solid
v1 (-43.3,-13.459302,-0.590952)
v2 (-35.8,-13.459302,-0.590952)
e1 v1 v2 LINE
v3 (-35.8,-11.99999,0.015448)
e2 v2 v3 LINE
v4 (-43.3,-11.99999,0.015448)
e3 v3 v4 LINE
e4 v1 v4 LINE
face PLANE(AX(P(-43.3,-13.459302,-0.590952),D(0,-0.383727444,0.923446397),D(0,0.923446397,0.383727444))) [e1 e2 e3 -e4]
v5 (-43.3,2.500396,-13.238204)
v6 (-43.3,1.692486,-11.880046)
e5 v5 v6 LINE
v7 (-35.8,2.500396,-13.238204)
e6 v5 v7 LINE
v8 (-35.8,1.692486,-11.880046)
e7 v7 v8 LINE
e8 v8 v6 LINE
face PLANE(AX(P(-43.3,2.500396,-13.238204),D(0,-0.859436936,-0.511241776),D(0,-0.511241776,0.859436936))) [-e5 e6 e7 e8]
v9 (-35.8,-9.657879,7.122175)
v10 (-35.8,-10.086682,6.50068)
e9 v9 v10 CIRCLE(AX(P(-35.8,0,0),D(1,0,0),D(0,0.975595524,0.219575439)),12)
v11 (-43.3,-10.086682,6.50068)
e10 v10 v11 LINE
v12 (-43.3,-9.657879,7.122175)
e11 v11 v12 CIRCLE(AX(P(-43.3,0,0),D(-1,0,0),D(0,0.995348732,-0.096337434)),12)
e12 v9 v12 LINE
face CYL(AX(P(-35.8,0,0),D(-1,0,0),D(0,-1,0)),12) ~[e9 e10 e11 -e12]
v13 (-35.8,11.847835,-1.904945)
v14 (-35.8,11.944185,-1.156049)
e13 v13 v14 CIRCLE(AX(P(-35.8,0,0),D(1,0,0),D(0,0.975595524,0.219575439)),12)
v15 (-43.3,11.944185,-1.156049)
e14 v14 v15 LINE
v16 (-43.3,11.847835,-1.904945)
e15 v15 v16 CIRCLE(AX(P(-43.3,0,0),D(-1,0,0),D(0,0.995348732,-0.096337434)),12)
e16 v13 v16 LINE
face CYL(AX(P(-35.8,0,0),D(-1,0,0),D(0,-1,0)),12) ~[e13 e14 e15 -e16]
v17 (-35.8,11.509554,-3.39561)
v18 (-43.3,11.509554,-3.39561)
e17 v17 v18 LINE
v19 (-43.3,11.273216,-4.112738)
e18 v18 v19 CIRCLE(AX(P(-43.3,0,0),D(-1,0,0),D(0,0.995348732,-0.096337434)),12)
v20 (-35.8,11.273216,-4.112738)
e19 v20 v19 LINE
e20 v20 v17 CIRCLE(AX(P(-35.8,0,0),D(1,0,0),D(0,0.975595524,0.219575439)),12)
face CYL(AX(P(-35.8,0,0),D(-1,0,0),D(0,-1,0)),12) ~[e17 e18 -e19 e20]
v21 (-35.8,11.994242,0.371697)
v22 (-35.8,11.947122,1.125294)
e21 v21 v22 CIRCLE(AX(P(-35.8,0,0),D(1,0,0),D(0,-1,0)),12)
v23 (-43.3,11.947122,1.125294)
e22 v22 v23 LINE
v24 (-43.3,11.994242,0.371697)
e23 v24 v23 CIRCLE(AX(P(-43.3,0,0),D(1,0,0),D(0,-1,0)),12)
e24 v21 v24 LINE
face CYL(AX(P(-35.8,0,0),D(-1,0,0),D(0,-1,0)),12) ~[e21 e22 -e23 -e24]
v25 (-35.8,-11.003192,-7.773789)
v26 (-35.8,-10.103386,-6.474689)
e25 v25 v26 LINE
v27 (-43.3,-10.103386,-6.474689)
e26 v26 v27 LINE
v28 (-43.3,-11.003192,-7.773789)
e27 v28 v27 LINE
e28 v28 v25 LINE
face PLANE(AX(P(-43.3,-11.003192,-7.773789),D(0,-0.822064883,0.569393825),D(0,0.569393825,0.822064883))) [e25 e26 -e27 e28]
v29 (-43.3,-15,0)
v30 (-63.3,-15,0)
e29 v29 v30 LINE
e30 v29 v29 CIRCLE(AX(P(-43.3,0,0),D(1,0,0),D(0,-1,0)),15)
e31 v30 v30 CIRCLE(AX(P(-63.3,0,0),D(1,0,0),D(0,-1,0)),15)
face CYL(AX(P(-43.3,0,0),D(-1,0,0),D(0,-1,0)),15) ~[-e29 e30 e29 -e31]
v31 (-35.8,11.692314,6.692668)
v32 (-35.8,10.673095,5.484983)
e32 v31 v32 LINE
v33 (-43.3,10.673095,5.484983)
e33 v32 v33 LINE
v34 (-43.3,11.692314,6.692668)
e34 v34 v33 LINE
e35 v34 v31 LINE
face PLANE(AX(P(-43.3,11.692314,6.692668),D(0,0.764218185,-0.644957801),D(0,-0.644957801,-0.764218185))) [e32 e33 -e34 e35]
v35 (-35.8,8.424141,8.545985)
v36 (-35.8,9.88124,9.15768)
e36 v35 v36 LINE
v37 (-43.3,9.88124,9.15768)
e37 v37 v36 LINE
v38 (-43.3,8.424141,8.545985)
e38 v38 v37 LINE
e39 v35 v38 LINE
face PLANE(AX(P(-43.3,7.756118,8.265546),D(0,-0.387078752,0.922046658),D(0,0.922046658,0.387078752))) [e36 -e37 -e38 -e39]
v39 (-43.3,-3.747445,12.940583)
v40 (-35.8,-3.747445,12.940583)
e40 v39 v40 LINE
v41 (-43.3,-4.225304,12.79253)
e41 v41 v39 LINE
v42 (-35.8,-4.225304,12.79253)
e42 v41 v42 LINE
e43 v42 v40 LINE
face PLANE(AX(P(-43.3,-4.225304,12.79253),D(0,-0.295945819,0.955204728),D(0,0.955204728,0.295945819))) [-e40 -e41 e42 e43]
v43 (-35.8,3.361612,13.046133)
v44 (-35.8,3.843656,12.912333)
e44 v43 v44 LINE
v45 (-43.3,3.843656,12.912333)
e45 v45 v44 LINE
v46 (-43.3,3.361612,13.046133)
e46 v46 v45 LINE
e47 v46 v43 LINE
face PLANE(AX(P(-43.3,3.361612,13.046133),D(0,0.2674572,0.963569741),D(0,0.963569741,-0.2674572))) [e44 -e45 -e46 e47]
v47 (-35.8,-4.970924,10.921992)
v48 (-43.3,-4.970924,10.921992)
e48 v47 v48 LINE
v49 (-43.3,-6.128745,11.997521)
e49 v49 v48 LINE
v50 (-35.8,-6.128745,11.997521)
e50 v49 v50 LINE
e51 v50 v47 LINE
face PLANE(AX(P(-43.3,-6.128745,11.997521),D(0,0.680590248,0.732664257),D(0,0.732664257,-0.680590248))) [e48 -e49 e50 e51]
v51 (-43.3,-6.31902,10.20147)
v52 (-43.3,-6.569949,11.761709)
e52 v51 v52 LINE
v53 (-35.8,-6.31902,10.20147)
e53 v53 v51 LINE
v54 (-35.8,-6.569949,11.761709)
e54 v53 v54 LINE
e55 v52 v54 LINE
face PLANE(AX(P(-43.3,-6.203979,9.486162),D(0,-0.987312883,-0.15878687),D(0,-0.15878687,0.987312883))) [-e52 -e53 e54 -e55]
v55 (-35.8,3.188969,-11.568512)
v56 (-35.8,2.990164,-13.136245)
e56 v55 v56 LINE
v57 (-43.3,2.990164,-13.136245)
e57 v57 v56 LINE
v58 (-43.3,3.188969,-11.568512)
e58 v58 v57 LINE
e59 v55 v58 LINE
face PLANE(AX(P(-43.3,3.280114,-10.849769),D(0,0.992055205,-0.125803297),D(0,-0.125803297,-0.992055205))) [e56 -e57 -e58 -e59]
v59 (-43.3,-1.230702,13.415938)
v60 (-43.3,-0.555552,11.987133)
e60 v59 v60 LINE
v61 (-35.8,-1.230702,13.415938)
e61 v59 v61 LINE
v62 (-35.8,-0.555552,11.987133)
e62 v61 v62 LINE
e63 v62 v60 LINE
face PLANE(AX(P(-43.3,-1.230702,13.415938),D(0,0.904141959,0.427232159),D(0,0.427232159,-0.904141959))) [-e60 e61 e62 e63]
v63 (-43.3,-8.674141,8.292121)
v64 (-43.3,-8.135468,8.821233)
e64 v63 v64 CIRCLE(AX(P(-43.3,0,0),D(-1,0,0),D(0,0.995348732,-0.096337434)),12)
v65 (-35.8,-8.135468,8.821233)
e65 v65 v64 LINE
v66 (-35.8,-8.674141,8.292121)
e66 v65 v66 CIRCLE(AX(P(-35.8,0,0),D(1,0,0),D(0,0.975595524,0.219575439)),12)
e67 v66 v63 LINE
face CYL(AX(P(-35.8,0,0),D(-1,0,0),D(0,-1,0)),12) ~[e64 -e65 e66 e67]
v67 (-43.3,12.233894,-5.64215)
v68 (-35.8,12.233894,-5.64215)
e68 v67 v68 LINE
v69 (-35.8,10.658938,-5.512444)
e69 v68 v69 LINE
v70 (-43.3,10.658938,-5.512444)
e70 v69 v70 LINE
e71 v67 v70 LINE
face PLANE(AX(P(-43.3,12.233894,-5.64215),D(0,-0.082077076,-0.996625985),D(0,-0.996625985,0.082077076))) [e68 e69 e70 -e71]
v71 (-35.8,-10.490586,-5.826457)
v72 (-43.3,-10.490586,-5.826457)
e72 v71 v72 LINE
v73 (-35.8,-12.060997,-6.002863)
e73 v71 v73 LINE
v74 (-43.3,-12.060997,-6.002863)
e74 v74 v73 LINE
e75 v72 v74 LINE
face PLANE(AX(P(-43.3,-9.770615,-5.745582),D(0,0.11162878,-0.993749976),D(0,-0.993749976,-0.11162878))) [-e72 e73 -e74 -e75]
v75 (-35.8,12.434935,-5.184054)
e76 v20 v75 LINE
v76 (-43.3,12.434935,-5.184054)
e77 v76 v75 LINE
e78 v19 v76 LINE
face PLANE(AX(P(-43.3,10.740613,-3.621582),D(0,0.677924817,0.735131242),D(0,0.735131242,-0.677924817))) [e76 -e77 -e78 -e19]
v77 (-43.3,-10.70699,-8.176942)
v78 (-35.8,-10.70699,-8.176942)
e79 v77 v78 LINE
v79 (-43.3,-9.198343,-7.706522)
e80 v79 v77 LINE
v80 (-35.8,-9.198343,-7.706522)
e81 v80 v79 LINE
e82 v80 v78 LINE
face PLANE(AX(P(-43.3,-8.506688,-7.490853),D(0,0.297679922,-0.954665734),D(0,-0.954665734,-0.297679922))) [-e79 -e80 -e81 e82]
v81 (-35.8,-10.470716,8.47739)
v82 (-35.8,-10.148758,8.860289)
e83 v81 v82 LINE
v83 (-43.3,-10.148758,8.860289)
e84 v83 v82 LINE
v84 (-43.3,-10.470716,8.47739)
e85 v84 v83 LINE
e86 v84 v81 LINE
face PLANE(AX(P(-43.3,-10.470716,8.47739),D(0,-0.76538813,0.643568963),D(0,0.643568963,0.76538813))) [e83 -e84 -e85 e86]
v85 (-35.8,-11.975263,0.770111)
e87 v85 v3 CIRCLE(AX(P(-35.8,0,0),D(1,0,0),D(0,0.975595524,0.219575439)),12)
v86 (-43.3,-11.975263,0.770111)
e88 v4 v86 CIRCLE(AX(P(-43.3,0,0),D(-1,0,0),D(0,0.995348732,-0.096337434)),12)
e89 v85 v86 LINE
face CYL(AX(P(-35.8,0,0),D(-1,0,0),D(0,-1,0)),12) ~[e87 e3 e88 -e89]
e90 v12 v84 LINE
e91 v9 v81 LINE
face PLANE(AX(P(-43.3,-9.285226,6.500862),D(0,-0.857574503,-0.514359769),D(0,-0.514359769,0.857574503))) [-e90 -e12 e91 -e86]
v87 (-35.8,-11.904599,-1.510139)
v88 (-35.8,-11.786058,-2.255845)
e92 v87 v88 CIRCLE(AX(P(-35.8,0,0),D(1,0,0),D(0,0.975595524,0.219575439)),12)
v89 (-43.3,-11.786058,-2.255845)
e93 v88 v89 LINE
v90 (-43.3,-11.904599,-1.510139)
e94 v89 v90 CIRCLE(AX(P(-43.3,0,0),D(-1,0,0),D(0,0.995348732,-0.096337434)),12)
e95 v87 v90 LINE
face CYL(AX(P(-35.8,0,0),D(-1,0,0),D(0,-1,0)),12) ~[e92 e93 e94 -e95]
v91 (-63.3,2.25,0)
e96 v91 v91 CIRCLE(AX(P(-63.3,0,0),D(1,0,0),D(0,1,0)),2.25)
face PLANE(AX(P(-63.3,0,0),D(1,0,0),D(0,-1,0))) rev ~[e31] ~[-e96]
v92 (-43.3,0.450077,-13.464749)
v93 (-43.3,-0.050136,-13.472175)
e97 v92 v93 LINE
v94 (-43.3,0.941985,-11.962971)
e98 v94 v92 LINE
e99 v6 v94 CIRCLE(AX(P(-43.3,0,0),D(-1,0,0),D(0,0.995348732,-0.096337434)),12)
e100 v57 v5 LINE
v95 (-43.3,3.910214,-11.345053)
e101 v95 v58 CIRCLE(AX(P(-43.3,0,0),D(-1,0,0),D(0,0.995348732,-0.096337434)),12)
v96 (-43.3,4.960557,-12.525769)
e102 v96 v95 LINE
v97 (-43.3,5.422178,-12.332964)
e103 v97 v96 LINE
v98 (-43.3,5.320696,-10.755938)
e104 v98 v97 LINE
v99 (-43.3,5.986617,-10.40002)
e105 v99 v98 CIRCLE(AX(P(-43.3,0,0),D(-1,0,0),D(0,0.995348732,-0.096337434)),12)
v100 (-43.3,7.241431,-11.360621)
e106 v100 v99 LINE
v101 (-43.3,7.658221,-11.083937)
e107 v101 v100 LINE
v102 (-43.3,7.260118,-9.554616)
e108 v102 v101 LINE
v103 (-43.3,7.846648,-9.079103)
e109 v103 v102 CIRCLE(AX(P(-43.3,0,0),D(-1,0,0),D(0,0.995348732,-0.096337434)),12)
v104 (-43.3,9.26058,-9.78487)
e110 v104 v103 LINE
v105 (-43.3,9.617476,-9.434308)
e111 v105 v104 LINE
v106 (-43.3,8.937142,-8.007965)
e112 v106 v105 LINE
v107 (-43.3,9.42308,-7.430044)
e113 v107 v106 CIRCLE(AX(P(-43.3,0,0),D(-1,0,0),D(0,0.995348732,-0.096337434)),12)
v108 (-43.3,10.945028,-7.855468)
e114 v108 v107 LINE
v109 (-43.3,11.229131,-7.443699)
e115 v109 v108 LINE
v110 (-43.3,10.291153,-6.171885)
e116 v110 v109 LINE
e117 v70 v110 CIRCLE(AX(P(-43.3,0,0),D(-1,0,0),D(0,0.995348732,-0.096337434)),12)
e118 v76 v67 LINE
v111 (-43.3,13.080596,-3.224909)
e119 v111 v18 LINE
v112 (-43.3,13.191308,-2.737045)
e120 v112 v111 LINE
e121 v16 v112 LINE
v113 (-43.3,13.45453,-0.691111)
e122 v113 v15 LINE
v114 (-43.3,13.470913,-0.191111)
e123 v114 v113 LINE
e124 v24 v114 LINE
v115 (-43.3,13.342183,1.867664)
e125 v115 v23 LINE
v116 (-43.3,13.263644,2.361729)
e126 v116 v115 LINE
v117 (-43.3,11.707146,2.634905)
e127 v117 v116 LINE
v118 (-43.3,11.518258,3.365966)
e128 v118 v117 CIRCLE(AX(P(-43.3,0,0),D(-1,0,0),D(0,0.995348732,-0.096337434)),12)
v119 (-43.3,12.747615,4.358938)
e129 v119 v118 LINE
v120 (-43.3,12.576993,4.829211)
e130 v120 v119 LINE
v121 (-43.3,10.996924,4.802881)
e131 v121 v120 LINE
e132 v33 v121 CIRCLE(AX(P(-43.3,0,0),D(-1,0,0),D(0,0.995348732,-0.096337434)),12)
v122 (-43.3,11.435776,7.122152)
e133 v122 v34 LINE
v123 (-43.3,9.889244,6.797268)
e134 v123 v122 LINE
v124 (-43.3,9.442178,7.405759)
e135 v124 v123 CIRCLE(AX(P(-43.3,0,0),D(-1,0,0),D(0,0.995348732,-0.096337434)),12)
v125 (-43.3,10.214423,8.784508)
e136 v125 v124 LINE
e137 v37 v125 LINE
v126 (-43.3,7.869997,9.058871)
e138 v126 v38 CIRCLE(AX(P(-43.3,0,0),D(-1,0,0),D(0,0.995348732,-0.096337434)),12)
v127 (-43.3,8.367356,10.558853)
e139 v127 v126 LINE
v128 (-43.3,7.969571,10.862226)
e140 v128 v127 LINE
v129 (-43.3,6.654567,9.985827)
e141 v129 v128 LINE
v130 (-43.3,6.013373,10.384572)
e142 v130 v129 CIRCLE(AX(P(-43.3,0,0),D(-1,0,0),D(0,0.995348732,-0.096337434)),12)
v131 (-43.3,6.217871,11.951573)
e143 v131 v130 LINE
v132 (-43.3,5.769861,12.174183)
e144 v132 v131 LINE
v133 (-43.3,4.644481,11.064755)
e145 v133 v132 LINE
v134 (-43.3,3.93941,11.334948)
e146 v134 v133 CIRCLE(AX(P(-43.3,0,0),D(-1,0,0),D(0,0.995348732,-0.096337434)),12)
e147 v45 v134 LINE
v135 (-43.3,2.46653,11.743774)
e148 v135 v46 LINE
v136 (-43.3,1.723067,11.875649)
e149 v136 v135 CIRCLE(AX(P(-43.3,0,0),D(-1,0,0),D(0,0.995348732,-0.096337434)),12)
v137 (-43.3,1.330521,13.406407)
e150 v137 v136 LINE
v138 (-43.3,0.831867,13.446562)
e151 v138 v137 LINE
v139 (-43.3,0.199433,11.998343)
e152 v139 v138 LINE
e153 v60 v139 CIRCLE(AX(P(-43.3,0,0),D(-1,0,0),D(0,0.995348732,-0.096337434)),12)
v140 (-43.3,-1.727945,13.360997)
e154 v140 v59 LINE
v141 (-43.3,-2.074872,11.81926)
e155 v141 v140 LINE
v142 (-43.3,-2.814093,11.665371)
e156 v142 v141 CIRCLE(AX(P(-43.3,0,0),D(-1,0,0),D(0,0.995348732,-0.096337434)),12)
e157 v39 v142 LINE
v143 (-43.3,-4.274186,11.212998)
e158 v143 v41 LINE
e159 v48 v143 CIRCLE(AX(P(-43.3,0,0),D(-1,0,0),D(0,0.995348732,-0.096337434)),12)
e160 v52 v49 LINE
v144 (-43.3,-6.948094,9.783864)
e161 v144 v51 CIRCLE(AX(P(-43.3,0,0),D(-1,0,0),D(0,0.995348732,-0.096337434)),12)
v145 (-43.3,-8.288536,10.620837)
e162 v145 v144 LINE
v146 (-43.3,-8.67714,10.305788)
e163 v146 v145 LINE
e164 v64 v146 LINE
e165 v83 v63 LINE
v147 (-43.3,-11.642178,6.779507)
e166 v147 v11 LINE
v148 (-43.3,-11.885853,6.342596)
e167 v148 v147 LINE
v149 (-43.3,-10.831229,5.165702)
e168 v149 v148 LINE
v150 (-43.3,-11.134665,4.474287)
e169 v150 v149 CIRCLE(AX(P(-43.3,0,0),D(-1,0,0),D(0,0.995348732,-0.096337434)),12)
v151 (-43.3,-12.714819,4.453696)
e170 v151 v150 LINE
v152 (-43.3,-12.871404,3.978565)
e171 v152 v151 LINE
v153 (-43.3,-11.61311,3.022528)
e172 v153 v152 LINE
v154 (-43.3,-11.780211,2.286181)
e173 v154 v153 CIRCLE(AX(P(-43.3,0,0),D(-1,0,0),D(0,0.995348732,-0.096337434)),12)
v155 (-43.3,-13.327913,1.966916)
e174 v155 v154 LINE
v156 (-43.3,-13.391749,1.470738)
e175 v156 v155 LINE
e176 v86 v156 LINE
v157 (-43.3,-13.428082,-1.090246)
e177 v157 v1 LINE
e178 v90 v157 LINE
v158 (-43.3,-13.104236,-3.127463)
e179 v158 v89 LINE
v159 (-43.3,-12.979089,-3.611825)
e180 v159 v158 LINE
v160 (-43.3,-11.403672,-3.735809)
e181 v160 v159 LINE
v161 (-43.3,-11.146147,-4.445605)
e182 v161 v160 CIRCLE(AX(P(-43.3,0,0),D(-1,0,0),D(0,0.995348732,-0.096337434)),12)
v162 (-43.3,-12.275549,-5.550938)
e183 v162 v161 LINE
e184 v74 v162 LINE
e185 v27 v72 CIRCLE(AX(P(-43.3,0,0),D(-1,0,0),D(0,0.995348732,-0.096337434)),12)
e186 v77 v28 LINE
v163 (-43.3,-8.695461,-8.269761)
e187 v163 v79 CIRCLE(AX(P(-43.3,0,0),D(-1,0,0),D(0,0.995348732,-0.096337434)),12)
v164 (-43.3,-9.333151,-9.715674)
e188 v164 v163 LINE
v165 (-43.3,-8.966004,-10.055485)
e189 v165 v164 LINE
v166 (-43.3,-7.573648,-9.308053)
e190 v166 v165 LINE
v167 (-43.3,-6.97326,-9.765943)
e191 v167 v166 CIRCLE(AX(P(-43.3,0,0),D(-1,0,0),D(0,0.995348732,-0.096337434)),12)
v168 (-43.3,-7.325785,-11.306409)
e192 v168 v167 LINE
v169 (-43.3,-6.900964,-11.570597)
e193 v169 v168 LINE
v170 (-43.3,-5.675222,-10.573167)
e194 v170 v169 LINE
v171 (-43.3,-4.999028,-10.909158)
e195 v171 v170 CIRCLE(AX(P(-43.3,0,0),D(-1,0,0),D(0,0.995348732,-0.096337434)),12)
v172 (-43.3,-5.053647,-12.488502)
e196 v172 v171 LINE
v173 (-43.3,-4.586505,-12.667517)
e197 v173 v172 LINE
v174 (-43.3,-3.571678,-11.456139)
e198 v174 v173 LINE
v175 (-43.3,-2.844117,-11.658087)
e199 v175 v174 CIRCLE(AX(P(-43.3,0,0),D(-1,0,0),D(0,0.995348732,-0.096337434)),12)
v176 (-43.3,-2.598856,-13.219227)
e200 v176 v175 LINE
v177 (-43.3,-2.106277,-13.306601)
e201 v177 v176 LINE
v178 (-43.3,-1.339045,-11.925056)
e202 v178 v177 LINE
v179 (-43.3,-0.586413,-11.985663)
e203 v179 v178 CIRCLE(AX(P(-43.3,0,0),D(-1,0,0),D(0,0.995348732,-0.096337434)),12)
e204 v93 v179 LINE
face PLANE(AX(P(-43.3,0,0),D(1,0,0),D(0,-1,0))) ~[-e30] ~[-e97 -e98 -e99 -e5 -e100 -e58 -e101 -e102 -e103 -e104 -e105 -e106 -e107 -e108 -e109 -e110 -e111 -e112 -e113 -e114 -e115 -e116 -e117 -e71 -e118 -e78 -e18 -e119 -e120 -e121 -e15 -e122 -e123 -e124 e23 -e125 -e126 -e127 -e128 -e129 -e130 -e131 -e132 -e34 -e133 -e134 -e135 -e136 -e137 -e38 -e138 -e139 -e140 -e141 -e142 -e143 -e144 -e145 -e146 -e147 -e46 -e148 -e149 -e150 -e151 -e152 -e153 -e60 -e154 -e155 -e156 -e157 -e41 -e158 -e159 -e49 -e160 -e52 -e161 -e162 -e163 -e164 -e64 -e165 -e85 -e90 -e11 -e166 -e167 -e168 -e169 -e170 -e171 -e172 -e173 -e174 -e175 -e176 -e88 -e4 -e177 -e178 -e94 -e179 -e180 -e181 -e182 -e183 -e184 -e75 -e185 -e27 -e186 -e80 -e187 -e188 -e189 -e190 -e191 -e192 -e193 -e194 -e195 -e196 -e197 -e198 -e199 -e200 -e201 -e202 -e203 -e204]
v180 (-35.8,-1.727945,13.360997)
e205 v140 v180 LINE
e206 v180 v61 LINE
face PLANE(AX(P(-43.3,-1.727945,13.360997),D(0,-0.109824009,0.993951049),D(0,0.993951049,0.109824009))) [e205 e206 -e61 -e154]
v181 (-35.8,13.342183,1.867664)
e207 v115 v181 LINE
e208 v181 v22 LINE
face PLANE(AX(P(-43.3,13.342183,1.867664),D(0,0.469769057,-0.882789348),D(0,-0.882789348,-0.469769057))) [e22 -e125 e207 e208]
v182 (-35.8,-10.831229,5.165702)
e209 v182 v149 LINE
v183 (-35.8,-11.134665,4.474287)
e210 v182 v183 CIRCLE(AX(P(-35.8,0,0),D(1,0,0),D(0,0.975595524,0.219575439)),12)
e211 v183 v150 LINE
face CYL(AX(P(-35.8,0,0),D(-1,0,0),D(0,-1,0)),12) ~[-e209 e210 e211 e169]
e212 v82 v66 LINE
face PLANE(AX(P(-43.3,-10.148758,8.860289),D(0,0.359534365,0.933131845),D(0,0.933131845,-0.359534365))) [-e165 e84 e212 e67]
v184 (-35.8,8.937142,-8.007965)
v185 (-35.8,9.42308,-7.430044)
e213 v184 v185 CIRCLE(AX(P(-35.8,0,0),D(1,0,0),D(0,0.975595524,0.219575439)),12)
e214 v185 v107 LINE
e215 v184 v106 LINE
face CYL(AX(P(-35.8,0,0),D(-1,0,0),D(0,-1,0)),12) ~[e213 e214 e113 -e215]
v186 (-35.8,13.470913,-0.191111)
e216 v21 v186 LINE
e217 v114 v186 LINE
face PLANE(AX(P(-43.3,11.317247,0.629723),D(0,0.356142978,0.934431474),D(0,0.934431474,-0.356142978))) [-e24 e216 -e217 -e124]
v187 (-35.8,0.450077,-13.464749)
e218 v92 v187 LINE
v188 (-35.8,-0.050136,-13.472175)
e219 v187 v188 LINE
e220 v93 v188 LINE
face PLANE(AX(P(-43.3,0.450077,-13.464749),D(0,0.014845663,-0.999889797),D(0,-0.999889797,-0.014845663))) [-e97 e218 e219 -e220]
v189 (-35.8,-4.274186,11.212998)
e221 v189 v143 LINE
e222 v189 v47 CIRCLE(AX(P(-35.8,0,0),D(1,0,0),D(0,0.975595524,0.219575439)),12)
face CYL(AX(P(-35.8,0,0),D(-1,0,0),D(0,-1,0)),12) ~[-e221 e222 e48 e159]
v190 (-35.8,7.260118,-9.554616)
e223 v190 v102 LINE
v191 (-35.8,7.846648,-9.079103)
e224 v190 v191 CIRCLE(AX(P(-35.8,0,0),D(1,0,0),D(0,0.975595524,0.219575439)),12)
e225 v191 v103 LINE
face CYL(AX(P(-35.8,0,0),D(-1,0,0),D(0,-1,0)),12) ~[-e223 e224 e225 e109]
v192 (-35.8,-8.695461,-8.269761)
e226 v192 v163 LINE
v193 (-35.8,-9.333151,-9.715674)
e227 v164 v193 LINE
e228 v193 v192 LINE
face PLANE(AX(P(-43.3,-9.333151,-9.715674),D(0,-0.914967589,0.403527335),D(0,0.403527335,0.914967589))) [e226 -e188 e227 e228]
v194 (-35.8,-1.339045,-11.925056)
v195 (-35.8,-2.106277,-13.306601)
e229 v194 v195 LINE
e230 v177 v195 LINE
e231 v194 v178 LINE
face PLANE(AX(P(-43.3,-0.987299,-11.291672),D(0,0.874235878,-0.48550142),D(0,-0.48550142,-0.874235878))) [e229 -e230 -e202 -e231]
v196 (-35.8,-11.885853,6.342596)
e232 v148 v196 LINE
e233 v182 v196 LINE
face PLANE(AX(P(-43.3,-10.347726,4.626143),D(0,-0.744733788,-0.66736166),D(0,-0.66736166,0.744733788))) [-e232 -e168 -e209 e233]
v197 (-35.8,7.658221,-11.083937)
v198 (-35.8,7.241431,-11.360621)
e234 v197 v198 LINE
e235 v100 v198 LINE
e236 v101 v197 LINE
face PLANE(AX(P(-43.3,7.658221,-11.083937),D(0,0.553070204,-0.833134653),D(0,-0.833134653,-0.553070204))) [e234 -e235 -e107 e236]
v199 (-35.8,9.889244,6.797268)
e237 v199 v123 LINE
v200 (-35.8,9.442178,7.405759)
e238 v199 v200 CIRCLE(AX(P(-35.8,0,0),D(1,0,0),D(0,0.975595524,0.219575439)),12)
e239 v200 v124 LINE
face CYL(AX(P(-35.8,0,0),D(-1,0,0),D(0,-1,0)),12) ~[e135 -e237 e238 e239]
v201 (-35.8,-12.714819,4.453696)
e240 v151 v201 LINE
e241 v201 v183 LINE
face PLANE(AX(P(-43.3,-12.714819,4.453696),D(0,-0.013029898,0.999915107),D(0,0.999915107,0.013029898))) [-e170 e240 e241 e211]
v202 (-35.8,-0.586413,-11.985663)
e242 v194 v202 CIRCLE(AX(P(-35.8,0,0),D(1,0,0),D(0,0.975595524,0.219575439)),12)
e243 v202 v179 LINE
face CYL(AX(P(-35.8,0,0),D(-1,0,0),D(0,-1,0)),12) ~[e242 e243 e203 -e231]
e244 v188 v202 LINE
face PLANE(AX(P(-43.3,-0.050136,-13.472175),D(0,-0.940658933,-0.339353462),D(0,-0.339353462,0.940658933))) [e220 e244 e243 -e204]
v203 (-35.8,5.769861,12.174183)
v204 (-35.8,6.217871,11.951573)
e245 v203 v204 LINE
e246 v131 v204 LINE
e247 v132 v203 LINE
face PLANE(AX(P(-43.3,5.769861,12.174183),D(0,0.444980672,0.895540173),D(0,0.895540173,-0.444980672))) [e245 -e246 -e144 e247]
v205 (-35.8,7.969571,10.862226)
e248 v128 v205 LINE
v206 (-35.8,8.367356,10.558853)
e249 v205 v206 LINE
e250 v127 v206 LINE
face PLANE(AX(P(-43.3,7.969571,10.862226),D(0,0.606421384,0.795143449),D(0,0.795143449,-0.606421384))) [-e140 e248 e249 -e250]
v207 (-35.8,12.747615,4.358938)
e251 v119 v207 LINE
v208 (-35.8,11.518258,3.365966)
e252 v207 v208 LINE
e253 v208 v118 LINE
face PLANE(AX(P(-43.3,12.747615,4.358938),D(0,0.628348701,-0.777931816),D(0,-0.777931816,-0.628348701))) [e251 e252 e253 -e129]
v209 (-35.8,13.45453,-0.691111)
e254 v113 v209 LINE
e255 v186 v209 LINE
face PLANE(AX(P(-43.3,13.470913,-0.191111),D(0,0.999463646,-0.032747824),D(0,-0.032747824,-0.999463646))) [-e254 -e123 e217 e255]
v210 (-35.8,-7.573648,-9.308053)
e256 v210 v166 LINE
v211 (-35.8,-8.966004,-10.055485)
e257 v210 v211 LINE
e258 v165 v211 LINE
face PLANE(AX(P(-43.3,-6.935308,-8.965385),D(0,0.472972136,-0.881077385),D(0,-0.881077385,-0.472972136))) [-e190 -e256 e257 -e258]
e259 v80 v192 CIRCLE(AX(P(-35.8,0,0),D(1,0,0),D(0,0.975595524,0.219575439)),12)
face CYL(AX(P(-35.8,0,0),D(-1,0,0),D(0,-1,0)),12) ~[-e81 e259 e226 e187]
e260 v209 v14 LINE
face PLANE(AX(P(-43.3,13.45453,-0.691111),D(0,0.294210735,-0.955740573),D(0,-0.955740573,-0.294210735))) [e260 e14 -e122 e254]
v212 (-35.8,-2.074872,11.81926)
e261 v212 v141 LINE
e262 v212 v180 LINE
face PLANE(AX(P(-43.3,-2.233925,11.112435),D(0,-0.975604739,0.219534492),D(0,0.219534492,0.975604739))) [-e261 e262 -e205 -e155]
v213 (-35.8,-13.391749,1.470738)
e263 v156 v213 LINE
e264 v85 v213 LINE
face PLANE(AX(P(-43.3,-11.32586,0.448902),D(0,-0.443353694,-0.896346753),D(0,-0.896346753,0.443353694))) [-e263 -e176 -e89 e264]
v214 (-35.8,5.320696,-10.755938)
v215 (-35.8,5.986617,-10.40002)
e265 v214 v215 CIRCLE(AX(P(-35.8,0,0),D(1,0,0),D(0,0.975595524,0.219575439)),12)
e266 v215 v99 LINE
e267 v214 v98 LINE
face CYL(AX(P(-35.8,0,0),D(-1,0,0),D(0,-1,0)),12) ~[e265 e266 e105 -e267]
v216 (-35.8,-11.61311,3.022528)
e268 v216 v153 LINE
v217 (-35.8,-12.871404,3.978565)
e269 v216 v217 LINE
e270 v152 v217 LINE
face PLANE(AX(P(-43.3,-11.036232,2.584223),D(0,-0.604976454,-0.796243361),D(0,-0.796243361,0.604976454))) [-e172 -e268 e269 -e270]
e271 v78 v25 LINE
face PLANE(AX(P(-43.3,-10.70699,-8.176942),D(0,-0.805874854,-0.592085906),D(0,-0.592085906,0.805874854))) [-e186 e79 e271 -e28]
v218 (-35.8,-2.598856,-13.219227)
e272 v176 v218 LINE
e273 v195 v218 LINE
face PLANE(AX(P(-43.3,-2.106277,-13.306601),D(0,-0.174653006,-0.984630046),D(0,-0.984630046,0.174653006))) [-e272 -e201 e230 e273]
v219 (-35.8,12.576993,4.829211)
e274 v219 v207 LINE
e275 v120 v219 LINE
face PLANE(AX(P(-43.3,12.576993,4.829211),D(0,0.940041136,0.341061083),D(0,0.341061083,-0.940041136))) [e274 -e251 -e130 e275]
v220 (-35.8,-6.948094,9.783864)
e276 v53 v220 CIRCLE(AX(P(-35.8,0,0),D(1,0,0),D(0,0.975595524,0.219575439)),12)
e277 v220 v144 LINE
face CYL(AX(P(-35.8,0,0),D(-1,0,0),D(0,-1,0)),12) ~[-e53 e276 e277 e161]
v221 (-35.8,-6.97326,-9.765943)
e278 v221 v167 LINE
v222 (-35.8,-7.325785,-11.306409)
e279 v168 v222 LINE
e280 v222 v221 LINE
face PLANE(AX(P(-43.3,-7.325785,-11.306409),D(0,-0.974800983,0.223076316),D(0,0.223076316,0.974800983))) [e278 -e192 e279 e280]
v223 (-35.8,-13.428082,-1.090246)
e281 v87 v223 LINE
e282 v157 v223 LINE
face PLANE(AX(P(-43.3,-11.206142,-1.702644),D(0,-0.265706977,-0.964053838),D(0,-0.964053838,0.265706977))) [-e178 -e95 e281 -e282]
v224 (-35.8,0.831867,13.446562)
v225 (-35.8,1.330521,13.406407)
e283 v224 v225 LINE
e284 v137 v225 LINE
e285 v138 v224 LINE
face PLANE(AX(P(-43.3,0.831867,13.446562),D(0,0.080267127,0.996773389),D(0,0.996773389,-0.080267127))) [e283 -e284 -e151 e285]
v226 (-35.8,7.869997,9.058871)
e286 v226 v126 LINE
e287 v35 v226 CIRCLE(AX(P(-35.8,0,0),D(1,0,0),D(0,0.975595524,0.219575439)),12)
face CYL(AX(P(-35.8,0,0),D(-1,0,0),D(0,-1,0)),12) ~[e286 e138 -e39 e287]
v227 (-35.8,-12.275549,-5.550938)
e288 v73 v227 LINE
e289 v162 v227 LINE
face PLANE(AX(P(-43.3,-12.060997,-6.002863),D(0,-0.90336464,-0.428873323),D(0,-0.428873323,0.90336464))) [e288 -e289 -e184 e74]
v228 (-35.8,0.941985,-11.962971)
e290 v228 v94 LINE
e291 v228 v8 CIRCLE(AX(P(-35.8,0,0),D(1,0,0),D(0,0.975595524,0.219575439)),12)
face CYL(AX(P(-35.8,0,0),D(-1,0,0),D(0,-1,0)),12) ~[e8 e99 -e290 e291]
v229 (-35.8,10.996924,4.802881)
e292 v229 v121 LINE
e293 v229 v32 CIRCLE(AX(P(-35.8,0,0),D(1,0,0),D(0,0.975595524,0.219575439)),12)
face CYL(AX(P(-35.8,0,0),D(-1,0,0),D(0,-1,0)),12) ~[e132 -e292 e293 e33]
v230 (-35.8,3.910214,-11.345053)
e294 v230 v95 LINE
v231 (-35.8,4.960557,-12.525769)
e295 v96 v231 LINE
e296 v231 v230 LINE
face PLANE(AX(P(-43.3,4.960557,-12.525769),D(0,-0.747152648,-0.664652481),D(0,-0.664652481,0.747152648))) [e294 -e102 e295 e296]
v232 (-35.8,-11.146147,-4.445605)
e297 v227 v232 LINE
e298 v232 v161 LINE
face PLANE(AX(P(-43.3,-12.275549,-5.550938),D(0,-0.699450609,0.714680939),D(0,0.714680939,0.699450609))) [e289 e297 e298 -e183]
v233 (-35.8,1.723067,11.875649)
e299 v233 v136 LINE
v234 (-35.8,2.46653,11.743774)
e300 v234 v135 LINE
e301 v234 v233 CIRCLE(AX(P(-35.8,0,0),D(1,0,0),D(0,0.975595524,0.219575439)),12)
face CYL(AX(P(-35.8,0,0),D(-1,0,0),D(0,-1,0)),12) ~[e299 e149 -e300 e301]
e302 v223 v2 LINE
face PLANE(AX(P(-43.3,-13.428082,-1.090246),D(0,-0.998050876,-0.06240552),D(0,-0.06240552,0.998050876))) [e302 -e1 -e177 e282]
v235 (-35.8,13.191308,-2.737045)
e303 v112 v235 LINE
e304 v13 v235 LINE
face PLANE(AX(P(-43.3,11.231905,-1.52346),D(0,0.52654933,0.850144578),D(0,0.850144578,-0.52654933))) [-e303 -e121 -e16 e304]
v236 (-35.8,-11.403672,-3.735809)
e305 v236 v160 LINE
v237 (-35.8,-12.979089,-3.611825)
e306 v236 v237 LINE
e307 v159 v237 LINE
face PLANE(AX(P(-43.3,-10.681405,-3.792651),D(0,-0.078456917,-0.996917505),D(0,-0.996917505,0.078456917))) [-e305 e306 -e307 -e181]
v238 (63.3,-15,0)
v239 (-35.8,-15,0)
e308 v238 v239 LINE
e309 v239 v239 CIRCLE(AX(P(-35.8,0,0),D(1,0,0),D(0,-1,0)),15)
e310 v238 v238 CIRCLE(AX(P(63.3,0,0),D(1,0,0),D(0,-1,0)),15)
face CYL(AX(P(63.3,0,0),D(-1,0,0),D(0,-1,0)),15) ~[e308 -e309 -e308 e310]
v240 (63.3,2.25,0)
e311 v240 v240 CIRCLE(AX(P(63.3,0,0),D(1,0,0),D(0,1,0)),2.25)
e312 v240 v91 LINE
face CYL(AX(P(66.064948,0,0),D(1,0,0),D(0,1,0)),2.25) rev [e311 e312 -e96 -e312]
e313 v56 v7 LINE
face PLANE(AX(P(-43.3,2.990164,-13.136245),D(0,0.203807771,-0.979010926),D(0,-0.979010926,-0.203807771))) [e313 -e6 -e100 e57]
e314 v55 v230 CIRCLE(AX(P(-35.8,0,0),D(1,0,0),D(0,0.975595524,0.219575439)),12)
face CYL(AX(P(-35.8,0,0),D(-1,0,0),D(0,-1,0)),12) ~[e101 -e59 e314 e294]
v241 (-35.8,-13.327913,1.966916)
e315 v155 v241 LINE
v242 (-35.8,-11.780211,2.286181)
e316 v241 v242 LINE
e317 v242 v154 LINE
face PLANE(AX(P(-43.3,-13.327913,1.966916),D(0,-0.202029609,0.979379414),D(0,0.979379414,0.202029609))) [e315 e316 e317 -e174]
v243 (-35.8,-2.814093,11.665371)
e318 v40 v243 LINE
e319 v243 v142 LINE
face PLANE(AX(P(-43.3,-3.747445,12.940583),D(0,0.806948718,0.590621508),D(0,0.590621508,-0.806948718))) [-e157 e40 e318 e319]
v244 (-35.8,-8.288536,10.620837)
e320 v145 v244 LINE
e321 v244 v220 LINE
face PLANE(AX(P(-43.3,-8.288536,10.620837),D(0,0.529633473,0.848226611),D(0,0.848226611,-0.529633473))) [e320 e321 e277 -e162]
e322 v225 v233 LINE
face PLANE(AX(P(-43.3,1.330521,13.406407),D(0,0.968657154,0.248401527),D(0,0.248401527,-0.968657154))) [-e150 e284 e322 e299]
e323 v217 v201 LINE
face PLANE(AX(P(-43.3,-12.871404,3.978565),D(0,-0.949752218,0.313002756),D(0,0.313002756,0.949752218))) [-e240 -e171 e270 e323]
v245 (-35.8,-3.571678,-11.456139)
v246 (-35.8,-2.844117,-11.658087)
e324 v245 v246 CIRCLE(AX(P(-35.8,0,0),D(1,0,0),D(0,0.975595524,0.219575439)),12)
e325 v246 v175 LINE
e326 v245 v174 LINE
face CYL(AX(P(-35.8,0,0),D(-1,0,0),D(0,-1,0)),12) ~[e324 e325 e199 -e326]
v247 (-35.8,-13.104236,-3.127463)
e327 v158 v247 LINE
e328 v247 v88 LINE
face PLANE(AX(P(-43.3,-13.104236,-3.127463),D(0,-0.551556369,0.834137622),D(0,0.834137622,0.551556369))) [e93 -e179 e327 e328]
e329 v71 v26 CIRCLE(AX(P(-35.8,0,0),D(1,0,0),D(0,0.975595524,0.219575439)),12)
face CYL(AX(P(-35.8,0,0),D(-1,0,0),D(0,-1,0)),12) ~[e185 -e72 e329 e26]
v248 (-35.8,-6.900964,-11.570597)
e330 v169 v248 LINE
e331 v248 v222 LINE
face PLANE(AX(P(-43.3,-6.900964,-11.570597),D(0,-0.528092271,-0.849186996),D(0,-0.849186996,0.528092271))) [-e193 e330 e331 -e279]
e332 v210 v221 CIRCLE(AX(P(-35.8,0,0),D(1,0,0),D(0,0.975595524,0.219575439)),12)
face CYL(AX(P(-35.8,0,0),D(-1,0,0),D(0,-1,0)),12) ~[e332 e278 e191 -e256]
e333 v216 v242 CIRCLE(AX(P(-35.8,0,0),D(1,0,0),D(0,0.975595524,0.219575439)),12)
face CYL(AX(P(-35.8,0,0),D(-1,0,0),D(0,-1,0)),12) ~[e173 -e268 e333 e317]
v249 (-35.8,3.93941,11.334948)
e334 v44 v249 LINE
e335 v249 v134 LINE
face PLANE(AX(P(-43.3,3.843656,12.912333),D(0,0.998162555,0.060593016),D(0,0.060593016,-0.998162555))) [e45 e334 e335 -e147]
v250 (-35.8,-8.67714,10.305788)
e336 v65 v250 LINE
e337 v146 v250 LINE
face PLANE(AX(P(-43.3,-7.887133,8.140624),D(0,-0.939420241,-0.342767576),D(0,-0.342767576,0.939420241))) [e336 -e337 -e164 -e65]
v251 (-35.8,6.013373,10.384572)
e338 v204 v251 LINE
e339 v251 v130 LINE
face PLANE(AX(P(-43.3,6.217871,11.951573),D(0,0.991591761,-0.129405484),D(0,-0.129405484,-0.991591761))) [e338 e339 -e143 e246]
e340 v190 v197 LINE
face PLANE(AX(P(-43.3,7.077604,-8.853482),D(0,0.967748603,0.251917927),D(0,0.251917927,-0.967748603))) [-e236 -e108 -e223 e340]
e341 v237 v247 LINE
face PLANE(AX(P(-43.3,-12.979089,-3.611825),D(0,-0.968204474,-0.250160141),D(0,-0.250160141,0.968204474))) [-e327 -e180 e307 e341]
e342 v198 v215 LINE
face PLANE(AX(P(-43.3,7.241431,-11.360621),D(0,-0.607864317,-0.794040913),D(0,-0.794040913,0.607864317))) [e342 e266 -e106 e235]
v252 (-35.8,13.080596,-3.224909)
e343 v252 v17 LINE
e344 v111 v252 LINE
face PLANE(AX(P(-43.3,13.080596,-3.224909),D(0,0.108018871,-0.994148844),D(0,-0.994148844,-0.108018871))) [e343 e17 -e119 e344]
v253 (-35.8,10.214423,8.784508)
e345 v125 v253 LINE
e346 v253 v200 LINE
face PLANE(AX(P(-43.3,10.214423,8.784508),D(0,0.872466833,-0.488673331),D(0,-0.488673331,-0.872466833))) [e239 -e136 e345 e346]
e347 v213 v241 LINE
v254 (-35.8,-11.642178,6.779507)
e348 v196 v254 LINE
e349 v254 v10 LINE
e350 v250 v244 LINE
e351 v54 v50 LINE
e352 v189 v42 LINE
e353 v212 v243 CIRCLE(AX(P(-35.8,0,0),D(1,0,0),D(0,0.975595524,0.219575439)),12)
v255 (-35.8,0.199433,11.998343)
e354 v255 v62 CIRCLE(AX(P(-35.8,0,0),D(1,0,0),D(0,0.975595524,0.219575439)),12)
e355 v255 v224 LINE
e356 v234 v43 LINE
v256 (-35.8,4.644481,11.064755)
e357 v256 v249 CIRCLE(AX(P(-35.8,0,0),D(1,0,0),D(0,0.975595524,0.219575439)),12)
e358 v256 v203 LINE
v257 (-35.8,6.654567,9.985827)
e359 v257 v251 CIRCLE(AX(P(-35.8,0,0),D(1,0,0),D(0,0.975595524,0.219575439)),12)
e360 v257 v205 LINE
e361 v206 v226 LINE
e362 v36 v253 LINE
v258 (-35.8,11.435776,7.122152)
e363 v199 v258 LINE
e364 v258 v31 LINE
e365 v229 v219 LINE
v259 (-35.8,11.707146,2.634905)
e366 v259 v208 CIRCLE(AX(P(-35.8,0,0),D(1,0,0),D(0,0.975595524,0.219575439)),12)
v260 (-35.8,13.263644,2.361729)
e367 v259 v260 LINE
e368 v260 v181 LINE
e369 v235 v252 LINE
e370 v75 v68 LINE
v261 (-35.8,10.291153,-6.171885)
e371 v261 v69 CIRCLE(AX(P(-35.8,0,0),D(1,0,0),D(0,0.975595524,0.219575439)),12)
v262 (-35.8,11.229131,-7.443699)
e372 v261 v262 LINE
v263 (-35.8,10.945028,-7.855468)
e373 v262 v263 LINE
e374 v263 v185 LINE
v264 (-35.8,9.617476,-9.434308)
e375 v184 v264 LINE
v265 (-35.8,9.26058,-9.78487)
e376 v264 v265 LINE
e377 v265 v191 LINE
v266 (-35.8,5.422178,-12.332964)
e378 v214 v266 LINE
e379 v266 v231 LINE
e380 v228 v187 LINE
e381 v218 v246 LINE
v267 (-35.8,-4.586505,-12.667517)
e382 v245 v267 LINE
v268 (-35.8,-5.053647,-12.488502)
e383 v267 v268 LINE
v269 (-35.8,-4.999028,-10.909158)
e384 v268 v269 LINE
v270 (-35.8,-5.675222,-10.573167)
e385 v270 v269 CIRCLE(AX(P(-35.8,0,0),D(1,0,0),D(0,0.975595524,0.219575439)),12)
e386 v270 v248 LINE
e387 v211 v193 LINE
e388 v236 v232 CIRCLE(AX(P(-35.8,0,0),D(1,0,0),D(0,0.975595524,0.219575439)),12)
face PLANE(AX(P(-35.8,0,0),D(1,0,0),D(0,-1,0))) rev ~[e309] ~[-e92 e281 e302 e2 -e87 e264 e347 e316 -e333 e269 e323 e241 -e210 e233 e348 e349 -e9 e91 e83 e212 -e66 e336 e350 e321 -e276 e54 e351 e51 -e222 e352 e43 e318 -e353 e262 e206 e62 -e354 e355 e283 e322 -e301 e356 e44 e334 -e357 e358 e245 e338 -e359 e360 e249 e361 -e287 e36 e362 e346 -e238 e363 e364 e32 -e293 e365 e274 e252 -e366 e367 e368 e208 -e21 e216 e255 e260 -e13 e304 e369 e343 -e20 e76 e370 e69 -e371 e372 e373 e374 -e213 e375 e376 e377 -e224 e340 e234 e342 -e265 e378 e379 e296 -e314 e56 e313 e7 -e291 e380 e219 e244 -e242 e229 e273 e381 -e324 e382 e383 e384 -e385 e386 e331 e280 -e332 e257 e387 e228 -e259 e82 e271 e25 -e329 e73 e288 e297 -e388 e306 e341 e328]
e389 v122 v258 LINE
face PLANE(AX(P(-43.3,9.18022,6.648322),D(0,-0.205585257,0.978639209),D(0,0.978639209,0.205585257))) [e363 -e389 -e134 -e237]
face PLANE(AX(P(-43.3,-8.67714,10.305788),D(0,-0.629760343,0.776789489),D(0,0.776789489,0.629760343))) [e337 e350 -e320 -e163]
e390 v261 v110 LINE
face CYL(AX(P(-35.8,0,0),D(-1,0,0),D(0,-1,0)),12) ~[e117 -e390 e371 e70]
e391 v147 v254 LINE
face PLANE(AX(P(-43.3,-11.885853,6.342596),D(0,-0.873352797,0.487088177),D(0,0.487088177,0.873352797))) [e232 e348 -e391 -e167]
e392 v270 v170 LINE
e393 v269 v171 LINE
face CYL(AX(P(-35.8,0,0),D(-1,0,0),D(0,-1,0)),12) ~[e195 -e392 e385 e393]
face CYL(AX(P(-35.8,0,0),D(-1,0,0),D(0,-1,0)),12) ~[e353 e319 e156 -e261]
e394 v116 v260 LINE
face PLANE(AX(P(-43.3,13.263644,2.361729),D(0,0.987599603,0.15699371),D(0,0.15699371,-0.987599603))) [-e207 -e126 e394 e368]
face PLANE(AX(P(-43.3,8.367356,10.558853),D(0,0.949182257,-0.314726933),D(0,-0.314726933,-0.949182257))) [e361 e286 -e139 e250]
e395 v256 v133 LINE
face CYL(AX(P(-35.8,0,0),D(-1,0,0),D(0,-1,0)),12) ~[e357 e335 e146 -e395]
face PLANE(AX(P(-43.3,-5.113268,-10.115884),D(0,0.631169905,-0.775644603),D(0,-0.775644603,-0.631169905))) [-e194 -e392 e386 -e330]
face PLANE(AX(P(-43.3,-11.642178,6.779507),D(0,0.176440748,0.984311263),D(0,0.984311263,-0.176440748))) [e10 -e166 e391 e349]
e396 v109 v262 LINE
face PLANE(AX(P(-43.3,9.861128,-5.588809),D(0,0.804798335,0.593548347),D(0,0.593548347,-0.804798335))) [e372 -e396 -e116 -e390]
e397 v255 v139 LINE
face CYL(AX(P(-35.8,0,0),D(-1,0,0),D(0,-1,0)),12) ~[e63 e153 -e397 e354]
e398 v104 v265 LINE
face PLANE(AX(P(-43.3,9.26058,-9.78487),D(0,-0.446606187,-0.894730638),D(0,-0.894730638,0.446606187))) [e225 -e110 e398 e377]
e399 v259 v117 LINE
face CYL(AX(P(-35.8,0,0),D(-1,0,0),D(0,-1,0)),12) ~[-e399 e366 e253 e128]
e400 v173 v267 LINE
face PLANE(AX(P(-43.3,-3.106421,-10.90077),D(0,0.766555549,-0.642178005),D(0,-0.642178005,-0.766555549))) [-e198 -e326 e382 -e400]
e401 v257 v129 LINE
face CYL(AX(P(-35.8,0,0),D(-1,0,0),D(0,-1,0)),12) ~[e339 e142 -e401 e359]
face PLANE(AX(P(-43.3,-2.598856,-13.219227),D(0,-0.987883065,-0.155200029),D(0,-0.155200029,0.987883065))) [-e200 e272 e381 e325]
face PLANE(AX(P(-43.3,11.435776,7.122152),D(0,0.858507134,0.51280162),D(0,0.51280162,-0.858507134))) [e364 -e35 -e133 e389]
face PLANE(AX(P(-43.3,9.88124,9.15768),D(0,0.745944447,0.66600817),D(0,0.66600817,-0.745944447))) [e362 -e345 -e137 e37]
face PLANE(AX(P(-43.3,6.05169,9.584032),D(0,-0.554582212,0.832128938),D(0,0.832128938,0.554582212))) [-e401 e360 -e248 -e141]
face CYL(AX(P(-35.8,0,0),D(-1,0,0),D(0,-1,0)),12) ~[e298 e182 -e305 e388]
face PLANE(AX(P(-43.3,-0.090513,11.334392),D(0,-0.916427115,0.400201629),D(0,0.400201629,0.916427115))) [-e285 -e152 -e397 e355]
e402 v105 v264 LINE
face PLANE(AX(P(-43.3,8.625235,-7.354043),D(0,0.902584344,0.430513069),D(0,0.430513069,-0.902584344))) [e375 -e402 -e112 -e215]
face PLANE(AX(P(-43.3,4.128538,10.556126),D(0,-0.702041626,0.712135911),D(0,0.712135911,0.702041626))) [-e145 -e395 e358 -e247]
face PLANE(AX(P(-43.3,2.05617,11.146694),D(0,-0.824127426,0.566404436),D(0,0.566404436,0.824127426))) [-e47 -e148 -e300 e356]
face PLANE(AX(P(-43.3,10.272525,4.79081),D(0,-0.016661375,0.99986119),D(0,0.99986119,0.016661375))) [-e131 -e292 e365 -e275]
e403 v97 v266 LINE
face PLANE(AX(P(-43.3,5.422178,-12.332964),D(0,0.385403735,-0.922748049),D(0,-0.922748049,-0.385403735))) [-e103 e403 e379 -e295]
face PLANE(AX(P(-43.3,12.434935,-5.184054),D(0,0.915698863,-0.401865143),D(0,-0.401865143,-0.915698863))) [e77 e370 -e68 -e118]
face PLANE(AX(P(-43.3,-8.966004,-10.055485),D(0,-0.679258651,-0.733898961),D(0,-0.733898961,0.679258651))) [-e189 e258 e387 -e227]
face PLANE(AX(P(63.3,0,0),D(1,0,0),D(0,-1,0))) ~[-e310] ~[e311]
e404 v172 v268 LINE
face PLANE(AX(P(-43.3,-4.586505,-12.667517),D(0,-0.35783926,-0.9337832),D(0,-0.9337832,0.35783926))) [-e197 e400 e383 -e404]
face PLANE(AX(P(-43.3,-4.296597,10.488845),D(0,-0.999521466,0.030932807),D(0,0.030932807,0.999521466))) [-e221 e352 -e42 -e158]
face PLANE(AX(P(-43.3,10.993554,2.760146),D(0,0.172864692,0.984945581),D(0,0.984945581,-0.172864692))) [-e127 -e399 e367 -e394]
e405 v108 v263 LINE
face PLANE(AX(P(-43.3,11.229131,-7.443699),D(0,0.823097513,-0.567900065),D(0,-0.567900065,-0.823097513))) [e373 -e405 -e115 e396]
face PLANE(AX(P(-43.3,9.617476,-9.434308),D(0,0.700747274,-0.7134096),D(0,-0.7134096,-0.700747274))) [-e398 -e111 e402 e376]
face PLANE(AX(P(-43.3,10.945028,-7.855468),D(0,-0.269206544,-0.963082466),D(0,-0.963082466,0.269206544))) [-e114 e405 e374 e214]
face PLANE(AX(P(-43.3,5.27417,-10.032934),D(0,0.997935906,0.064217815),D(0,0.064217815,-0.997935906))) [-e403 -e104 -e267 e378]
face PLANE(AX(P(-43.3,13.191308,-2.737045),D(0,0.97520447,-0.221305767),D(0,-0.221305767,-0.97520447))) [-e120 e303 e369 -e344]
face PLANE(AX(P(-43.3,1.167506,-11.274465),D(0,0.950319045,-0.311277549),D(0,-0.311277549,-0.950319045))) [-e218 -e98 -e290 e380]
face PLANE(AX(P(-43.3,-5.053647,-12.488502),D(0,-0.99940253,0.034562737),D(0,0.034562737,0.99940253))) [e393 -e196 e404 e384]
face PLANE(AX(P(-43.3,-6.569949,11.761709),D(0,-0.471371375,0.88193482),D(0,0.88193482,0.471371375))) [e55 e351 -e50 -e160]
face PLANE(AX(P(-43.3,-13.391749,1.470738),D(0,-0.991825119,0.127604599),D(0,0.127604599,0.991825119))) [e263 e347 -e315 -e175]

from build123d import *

# Parameters (mm, degrees)
BOSS_EXTRU_1_DEPTH           = 7.5
R_P_TITION_CIRCULAIRE1_COUNT = 33
ENL_V_MAT_EXTRU_3_DEPTH      = 129.364948487
ENL_V_MAT_EXTRU_3_DEPTH_BACK = 129.364948487
ESQUISSE7_R                  = 2.25


with BuildPart() as part:
    # Esquisse1 → Révolution1 (revolve)
    with BuildSketch(Plane.XY, mode=Mode.PRIVATE) as r_volution1_sk:
        Polygon((-63.3, 15), (-63.3, 0), (63.3, 0), (63.3, 15), (-35.8, 15), (-35.8, 12), (-43.3, 12), (-43.3, 15), align=None)
    revolve(r_volution1_sk.sketch.rotate(Axis((-63.3, 0, 0), (1, 0, 0)), 180), axis=Axis((-63.3, 0, 0), (1, 0, 0)))

    # Esquisse3 → Boss.-Extru.1 (add)
    with BuildSketch(Plane(origin=(-43.3, 0, 0), x_dir=(0, 0, -1), z_dir=(1, 0, 0))):
        Polygon((0.691111458, 13.454530338), (1.369204766, 11.251751142), (-0.629722527, 11.317246794), (0.191111458, 13.470913037), align=None)
    boss_extru_1 = extrude(amount=BOSS_EXTRU_1_DEPTH)

    # Répétition circulaire1: Boss.-Extru.1 ×33 about axis
    r_p_tition_circulaire1_axis = Axis((0, 0, 0), (1, 0, 0))
    for i in range(1, R_P_TITION_CIRCULAIRE1_COUNT):
        add(boss_extru_1.rotate(r_p_tition_circulaire1_axis, i * 360 / R_P_TITION_CIRCULAIRE1_COUNT))

    # Esquisse7 → Enlèv. mat.-Extru.3 (cut, two sides: drawn at the far end of the back side and taken through both)
    with BuildSketch(Plane.ZY.offset(63.3).offset(-ENL_V_MAT_EXTRU_3_DEPTH_BACK)):
        with Locations(Location((0, 0, 0), (0, 0, 90))):
            Circle(ESQUISSE7_R)
    extrude(amount=ENL_V_MAT_EXTRU_3_DEPTH + ENL_V_MAT_EXTRU_3_DEPTH_BACK, mode=Mode.SUBTRACT)


solid = part.part
